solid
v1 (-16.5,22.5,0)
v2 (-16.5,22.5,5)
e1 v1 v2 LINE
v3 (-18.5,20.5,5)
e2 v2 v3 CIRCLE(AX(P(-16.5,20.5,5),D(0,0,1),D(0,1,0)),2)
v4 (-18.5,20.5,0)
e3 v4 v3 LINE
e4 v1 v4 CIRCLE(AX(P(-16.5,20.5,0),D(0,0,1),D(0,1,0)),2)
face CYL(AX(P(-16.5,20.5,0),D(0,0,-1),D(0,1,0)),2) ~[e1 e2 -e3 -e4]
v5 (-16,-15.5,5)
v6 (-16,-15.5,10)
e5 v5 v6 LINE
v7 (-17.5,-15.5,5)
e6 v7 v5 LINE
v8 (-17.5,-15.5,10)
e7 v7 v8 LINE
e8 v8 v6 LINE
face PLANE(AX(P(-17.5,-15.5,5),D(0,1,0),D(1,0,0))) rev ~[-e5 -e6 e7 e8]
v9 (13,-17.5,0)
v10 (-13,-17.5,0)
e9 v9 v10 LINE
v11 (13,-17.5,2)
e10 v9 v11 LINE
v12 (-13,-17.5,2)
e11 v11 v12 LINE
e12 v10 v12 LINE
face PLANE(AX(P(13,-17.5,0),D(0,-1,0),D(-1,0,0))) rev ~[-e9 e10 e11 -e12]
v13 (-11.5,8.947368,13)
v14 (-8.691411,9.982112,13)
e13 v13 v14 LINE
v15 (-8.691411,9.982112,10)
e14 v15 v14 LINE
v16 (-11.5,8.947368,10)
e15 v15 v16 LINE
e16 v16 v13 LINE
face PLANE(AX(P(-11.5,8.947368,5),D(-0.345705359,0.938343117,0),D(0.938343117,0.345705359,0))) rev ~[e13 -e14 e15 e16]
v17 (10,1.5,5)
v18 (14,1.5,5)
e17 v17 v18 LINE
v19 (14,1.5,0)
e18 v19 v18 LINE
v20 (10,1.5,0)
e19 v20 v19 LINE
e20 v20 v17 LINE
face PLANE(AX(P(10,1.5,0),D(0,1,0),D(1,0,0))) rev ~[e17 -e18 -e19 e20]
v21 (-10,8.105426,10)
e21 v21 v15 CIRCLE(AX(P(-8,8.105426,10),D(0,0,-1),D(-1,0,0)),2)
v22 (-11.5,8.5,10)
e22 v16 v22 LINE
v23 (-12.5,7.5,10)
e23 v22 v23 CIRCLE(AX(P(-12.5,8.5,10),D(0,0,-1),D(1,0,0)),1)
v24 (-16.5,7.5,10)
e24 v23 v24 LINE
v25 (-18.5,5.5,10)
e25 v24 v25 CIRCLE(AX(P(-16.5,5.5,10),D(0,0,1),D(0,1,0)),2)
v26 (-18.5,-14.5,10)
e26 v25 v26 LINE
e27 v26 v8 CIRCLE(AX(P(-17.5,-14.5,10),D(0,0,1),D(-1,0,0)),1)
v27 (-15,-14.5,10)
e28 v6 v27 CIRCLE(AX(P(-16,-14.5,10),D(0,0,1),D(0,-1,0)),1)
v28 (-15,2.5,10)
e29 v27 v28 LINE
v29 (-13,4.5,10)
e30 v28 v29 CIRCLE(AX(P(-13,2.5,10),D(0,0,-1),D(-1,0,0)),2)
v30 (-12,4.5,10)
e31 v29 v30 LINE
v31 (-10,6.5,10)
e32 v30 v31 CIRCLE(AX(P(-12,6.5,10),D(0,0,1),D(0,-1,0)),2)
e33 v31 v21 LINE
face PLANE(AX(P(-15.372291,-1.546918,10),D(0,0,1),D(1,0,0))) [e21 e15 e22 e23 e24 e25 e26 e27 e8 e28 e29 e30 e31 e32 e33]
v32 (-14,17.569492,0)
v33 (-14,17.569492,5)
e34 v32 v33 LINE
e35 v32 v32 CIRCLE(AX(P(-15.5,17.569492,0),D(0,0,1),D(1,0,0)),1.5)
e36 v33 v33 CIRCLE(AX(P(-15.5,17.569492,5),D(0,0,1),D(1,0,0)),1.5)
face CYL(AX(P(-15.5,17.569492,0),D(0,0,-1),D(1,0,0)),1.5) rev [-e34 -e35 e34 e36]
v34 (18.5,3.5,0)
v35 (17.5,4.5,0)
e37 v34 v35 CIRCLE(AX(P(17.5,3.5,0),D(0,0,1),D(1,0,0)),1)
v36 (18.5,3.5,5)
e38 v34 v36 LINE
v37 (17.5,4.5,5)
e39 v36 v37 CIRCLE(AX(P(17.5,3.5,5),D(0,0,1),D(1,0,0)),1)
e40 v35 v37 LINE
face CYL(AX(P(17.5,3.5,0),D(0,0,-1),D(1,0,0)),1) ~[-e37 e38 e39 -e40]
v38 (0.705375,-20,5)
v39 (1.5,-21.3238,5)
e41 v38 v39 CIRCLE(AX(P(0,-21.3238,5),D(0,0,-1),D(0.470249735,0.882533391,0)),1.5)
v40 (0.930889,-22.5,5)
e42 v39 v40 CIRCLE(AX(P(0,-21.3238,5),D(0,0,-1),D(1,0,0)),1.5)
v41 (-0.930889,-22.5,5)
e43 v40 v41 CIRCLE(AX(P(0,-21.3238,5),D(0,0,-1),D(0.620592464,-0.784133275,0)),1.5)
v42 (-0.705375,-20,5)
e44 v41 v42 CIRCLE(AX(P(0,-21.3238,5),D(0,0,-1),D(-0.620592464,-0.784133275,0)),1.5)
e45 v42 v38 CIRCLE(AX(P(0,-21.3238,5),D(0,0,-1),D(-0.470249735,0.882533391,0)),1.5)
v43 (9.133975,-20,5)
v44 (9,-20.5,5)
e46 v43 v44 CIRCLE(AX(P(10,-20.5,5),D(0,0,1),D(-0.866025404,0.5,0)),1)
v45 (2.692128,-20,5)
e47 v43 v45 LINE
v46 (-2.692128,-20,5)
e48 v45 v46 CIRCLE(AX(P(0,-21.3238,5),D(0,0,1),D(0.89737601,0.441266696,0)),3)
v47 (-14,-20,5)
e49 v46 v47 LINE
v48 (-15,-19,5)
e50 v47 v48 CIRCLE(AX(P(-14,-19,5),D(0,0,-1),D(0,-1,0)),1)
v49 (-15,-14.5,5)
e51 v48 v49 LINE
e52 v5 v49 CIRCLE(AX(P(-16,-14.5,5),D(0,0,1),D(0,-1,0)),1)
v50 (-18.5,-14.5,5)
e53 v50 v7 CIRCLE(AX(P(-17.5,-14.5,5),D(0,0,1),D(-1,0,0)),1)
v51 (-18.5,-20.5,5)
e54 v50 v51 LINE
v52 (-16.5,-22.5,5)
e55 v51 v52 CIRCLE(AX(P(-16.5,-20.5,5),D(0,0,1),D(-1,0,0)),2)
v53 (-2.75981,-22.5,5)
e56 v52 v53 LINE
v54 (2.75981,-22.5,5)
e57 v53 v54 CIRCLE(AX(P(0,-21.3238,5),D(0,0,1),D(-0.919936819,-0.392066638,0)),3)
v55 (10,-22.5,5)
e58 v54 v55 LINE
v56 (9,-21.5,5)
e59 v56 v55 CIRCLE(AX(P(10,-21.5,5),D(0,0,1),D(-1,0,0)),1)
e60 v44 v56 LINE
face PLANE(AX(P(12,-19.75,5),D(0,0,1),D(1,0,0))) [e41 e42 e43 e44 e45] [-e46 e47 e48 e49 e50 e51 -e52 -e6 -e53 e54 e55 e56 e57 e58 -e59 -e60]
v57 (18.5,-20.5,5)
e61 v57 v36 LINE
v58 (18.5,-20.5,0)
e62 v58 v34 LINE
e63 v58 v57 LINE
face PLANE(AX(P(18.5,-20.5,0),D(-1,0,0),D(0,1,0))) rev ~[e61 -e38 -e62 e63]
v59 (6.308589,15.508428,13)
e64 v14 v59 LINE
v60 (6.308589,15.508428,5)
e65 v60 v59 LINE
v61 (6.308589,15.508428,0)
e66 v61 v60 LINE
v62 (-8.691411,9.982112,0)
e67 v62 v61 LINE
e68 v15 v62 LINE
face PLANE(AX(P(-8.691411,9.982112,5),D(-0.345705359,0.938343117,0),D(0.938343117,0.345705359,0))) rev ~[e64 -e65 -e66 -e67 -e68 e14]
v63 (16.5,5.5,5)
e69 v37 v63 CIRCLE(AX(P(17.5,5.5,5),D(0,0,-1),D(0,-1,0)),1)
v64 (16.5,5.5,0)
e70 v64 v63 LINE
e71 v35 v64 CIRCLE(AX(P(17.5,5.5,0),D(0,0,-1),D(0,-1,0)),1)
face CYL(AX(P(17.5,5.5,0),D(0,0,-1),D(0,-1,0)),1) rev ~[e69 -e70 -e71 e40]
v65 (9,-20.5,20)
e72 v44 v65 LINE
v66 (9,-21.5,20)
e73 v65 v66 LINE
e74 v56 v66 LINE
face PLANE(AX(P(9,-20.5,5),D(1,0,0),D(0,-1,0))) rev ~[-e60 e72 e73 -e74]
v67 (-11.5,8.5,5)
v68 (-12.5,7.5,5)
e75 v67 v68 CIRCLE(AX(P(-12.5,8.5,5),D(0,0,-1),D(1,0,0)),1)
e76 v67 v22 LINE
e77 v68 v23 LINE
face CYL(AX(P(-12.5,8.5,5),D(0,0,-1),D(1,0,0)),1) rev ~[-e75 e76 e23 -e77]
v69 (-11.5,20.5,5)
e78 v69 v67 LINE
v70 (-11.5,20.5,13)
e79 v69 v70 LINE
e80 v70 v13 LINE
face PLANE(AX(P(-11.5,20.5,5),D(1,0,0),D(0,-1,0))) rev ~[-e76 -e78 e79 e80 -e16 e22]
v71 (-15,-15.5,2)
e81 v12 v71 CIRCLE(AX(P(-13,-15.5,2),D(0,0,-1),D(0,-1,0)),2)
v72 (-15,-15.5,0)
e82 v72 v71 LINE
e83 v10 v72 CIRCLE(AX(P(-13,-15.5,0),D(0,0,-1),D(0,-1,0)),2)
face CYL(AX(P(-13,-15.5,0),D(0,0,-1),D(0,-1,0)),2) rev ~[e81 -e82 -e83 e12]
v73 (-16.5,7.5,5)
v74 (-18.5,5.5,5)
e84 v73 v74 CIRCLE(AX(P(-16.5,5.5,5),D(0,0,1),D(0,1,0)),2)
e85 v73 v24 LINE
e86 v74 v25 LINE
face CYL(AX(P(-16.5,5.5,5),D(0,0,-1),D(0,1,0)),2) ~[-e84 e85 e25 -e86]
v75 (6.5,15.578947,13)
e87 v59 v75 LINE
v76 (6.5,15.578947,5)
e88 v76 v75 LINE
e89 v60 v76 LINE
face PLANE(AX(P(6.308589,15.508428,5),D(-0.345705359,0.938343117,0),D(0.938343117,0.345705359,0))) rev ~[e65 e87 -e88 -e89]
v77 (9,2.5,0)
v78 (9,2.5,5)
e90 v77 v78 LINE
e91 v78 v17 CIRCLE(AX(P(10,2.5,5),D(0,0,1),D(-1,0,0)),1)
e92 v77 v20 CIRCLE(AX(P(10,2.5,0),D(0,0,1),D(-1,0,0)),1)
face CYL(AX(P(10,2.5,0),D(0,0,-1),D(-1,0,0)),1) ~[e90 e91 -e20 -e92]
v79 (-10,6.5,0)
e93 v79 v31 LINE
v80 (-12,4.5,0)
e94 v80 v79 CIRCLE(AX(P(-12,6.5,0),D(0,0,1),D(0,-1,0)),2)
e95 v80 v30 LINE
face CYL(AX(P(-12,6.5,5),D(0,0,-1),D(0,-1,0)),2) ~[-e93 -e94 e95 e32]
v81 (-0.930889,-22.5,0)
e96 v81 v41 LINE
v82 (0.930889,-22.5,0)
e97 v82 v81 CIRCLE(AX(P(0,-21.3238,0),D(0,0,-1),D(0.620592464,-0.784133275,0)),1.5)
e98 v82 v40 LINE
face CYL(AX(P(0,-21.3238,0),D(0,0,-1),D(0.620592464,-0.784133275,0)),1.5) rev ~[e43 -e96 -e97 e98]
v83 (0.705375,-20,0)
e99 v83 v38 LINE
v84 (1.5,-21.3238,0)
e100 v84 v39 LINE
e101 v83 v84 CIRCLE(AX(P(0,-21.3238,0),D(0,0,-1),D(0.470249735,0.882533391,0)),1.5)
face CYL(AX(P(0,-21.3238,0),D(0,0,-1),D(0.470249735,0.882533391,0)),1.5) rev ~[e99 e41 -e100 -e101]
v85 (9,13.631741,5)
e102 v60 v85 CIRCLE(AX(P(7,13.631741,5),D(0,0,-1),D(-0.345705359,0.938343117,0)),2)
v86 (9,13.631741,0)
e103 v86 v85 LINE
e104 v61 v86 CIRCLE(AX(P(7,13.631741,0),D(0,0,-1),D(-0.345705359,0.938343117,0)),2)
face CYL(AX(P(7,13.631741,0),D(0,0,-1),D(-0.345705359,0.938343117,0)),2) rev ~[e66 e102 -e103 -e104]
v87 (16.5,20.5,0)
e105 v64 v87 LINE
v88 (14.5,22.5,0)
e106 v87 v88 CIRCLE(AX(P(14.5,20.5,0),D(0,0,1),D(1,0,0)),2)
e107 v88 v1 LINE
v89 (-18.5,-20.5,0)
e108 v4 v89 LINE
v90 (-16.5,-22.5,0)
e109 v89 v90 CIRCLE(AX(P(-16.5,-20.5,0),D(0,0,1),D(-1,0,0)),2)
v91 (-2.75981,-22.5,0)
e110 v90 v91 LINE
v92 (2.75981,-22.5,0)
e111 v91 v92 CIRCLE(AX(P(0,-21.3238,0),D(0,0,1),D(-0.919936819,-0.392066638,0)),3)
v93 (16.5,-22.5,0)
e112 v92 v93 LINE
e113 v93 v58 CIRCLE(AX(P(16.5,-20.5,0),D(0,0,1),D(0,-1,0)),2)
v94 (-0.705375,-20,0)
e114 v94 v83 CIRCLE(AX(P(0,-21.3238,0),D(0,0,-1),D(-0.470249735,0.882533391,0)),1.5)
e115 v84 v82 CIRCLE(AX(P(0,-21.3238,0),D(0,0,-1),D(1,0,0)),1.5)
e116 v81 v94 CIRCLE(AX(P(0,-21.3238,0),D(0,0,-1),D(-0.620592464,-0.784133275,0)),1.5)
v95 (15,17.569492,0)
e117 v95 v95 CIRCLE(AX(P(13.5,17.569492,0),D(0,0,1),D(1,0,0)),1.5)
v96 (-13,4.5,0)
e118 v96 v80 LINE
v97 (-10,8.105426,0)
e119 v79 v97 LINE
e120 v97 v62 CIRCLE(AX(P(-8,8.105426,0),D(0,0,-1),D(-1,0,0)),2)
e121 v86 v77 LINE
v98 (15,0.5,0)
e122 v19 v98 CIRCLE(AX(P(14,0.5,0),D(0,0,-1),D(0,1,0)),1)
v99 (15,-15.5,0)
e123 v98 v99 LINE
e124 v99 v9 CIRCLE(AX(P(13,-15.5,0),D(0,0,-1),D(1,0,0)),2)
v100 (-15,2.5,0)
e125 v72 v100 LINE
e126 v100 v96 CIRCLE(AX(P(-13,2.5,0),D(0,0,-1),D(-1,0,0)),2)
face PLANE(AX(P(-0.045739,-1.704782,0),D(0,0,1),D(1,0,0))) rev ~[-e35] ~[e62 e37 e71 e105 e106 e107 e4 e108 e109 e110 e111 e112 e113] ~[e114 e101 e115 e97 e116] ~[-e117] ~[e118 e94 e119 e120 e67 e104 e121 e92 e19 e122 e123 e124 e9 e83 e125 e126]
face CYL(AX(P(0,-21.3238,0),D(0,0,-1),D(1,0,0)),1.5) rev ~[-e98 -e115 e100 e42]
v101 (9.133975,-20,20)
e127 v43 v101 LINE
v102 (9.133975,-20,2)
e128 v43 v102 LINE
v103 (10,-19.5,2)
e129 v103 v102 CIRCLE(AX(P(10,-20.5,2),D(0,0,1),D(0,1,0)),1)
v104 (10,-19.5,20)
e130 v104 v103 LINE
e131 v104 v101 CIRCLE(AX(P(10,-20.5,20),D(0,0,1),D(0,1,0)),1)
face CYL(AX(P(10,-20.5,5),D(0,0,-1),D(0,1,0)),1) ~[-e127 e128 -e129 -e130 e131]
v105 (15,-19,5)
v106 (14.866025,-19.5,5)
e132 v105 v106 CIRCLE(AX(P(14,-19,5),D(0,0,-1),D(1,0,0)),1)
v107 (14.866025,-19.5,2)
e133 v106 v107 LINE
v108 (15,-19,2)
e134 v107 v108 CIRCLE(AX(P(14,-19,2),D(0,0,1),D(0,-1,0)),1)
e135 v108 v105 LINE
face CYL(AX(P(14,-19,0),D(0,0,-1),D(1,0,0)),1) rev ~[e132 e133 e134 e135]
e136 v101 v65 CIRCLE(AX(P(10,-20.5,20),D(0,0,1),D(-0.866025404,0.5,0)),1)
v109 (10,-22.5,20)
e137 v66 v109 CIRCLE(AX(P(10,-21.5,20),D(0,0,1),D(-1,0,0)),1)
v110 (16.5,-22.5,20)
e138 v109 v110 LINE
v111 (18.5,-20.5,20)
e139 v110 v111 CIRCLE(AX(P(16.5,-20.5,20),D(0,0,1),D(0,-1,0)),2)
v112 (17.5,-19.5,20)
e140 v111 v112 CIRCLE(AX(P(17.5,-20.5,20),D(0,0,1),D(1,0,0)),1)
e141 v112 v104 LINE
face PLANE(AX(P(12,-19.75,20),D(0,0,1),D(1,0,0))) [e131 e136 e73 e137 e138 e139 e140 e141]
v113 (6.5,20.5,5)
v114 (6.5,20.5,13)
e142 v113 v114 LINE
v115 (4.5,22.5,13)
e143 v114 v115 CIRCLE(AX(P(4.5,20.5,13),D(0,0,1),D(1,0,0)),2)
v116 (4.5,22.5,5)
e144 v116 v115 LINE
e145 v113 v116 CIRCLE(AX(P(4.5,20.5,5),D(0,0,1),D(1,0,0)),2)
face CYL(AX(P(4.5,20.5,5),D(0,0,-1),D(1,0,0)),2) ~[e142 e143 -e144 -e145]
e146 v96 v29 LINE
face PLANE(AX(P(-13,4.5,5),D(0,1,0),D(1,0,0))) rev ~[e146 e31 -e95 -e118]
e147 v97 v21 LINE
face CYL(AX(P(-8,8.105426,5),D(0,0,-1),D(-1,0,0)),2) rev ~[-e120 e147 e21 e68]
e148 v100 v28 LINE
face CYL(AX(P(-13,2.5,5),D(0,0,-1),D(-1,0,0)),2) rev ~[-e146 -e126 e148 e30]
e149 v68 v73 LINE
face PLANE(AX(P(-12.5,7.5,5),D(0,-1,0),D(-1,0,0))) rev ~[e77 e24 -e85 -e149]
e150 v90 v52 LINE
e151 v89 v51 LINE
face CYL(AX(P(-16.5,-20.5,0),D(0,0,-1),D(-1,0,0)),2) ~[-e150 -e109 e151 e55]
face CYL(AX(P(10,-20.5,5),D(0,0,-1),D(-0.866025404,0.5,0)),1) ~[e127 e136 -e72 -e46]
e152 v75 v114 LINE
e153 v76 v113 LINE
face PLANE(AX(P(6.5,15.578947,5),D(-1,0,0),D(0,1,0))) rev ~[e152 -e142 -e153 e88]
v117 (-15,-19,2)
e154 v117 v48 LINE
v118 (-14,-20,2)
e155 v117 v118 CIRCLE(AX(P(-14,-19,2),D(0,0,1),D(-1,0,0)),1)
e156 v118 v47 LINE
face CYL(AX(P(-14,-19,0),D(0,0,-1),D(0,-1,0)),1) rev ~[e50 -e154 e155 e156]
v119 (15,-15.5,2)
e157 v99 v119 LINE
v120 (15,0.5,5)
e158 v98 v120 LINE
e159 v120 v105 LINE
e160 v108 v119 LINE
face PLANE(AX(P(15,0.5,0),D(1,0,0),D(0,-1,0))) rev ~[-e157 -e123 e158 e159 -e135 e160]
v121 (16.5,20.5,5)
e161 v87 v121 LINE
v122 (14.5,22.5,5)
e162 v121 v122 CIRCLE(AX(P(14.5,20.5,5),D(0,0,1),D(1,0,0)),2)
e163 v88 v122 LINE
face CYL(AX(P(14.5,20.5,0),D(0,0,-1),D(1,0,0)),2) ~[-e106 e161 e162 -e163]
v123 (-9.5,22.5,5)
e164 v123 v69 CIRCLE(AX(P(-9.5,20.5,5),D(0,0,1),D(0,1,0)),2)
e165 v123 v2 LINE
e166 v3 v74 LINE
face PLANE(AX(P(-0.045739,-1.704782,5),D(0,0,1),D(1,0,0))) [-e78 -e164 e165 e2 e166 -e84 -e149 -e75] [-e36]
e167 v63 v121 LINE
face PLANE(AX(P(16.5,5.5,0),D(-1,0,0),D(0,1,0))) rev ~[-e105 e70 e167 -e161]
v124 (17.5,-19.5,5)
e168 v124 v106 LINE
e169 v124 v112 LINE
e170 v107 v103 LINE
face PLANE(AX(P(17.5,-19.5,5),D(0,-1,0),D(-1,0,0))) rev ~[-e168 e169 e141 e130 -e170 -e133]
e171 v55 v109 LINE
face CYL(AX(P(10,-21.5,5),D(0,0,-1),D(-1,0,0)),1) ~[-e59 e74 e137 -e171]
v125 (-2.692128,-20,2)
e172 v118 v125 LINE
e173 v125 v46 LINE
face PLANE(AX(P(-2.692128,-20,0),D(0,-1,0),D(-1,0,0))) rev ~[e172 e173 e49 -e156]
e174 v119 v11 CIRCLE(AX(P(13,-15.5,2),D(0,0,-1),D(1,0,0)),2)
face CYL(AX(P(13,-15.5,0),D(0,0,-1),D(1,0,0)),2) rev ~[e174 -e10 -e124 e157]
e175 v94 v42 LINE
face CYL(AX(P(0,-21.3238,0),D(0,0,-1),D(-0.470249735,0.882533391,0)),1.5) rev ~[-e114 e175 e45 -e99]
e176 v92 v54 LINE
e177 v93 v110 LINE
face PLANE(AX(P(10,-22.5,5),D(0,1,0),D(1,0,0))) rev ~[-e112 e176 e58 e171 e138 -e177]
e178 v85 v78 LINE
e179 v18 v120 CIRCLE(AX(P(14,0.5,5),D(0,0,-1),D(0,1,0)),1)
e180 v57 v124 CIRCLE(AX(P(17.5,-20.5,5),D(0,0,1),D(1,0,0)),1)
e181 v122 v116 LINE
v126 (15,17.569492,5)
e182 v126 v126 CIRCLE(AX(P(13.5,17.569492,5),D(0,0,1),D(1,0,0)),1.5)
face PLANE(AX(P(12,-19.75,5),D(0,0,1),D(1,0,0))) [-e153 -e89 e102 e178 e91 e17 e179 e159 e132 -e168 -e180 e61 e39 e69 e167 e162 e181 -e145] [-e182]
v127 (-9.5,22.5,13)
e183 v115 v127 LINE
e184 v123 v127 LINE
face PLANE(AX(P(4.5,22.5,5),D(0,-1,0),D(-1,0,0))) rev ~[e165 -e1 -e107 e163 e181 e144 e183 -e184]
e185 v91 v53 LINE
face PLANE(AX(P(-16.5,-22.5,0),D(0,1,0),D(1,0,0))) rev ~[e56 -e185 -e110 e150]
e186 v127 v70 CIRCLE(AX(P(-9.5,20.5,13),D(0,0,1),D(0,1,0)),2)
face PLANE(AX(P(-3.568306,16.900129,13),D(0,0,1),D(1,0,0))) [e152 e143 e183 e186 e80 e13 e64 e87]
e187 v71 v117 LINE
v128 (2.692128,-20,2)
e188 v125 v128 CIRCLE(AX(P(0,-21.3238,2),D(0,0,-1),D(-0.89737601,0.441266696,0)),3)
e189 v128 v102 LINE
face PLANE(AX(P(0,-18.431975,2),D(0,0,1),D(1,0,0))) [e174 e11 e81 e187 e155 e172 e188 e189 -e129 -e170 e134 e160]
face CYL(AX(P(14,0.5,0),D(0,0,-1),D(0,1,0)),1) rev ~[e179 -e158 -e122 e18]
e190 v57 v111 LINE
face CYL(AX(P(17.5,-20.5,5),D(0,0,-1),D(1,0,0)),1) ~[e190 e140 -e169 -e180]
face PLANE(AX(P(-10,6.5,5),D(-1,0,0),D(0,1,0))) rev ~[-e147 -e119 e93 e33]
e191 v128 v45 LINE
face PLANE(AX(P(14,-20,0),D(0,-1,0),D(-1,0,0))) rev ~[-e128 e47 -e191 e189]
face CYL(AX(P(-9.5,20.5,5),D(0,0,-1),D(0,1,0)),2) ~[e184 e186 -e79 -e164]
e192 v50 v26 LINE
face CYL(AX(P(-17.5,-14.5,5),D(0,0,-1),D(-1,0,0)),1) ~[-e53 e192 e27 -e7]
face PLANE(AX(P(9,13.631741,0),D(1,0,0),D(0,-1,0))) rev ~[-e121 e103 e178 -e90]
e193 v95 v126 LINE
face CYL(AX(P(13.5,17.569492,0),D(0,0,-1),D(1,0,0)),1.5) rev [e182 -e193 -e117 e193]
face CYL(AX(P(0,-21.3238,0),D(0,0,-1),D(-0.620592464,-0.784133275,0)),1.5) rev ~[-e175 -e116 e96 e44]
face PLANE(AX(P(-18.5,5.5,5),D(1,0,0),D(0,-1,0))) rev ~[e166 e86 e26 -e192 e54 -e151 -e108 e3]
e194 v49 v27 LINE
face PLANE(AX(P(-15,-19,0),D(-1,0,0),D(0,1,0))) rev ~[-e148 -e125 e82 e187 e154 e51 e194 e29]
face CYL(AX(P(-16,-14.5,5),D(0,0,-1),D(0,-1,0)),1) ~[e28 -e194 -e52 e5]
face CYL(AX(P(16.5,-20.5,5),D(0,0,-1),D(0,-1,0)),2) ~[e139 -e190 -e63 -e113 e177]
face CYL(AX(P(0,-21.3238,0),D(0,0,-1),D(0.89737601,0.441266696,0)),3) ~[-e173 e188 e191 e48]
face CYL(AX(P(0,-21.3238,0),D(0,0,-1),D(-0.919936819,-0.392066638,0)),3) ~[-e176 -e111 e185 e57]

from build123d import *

# Parameters (mm, degrees)
F1_DEPTH = 2
F0_R     = 3
F0_R_2   = 1.5
F2_DEPTH = 5
F4_DEPTH = 5
F5_DEPTH = 8
F6_DEPTH = 4
F7_DEPTH = 15


with BuildPart() as f1:
    # F0 (on Top) → F1 (new body)
    with BuildSketch(Plane.XY):
        with BuildLine():
            Line((-14, -20), (-2.69212803, -20))
            ThreePointArc((-2.69212803, -20), (0, -18.323800087), (2.69212803, -20))
            Line((2.69212803, -20), (14, -20))
            ThreePointArc((14, -20), (14.7071067812, -19.7071067812), (15, -19))
            Line((15, -19), (15, -15.5))
            ThreePointArc((15, -15.5), (14.4142135624, -16.9142135624), (13, -17.5))
            Line((13, -17.5), (-13, -17.5))
            ThreePointArc((-13, -17.5), (-14.4142135624, -16.9142135624), (-15, -15.5))
            Line((-15, -15.5), (-15, -19))
            ThreePointArc((-15, -19), (-14.7071067812, -19.7071067812), (-14, -20))
        make_face()
    extrude(amount=F1_DEPTH)

    # F0 (on Top) → F2 (join)
    with BuildSketch(Plane.XY):
        with BuildLine():
            Line((2.7598104581, -22.5), (16.5, -22.5))
            ThreePointArc((16.5, -22.5), (17.9142135624, -21.9142135624), (18.5, -20.5))
            Line((18.5, -20.5), (18.5, 3.5))
            ThreePointArc((18.5, 3.5), (18.2071067812, 4.2071067812), (17.5, 4.5))
            ThreePointArc((17.5, 4.5), (16.7928932188, 4.7928932188), (16.5, 5.5))
            Line((16.5, 5.5), (16.5, 17.5694916397))
            Line((16.5, 17.5694916397), (16.5, 20.5))
            ThreePointArc((16.5, 20.5), (15.9142135624, 21.9142135624), (14.5, 22.5))
            Line((14.5, 22.5), (-16.5, 22.5))
            ThreePointArc((-16.5, 22.5), (-17.9142135624, 21.9142135624), (-18.5, 20.5))
            Line((-18.5, 20.5), (-18.5, 17.5694916397))
            Line((-18.5, 17.5694916397), (-18.5, -20.5))
            ThreePointArc((-18.5, -20.5), (-17.9142135624, -21.9142135624), (-16.5, -22.5))
            Line((-16.5, -22.5), (-2.7598104581, -22.5))
            ThreePointArc((-2.7598104581, -22.5), (-2.9989011853, -21.2426109214), (-2.69212803, -20))
            Line((-2.69212803, -20), (-14, -20))
            ThreePointArc((-14, -20), (-14.7071067812, -19.7071067812), (-15, -19))
            Line((-15, -19), (-15, -15.5))
            Line((-15, -15.5), (-15, 2.5))
            ThreePointArc((-15, 2.5), (-14.4142135624, 3.9142135624), (-13, 4.5))
            Line((-13, 4.5), (-12, 4.5))
            ThreePointArc((-12, 4.5), (-10.5857864376, 5.0857864376), (-10, 6.5))
            Line((-10, 6.5), (-10, 8.1054256072))
            ThreePointArc((-10, 8.1054256072), (-9.6405519552, 9.2493614806), (-8.6914107177, 9.9821118409))
            Line((-8.6914107177, 9.9821118409), (6.3085892823, 15.5084276303))
            ThreePointArc((6.3085892823, 15.5084276303), (8.1439358734, 15.2722933519), (9, 13.6317413967))
            Line((9, 13.6317413967), (9, 2.5))
            ThreePointArc((9, 2.5), (9.2928932188, 1.7928932188), (10, 1.5))
            Line((10, 1.5), (14, 1.5))
            ThreePointArc((14, 1.5), (14.7071067812, 1.2071067812), (15, 0.5))
            Line((15, 0.5), (15, -15.5))
            Line((15, -15.5), (15, -19))
            ThreePointArc((15, -19), (14.7071067812, -19.7071067812), (14, -20))
            Line((14, -20), (2.69212803, -20))
            ThreePointArc((2.69212803, -20), (2.9220184881, -20.6442355536), (3, -21.323800087))
            ThreePointArc((3, -21.323800087), (2.9393393283, -21.9240369676), (2.7598104581, -22.5))
        make_face()
        with BuildLine():
            ThreePointArc((-12.5, 17.5694916397), (-15.5, 14.5694916397), (-18.5, 17.5694916397))
            ThreePointArc((-18.5, 17.5694916397), (-15.5, 20.5694916397), (-12.5, 17.5694916397))
        make_face(mode=Mode.SUBTRACT)
        with Locations((13.5, 17.5694916397)):
            Circle(F0_R, mode=Mode.SUBTRACT)
        with BuildLine():
            ThreePointArc((2.69212803, -20), (0, -18.323800087), (-2.69212803, -20))
            Line((-2.69212803, -20), (-0.7053746024, -20))
            ThreePointArc((-0.7053746024, -20), (0, -19.823800087), (0.7053746024, -20))
            Line((0.7053746024, -20), (2.69212803, -20))
        make_face()
        with BuildLine():
            ThreePointArc((-2.69212803, -20), (-2.9989011853, -21.2426109214), (-2.7598104581, -22.5))
            Line((-2.7598104581, -22.5), (-0.9308886961, -22.5))
            ThreePointArc((-0.9308886961, -22.5), (-1.4939342005, -21.1890388), (-0.7053746024, -20))
            Line((-0.7053746024, -20), (-2.69212803, -20))
        make_face()
        with BuildLine():
            Line((0.9308886961, -22.5), (2.7598104581, -22.5))
            ThreePointArc((2.7598104581, -22.5), (2.9393393283, -21.9240369676), (3, -21.323800087))
            ThreePointArc((3, -21.323800087), (2.9220184881, -20.6442355536), (2.69212803, -20))
            Line((2.69212803, -20), (0.7053746024, -20))
            ThreePointArc((0.7053746024, -20), (1.2860913466, -20.5518097708), (1.5, -21.323800087))
            ThreePointArc((1.5, -21.323800087), (1.3502468375, -21.9771250275), (0.9308886961, -22.5))
        make_face()
        with BuildLine():
            ThreePointArc((-2.7598104581, -22.5), (0, -24.323800087), (2.7598104581, -22.5))
            Line((2.7598104581, -22.5), (0.9308886961, -22.5))
            ThreePointArc((0.9308886961, -22.5), (0, -22.823800087), (-0.9308886961, -22.5))
            Line((-0.9308886961, -22.5), (-2.7598104581, -22.5))
        make_face()
        with BuildLine():
            ThreePointArc((-12.5, 17.5694916397), (-15.5, 20.5694916397), (-18.5, 17.5694916397))
            ThreePointArc((-18.5, 17.5694916397), (-15.5, 14.5694916397), (-12.5, 17.5694916397))
        make_face()
        with Locations((-15.5, 17.5694916397)):
            Circle(F0_R_2, mode=Mode.SUBTRACT)
        with Locations((13.5, 17.5694916397)):
            Circle(F0_R)
        with Locations((13.5, 17.5694916397)):
            Circle(F0_R_2, mode=Mode.SUBTRACT)
    extrude(amount=F2_DEPTH)

    # F3 (on face) → F4 (join)
    with BuildSketch(Plane.XY.offset(5)):
        with BuildLine():
            ThreePointArc((-18.5, -14.5), (-18.2071067812, -15.2071067812), (-17.5, -15.5))
            Line((-17.5, -15.5), (-16, -15.5))
            ThreePointArc((-16, -15.5), (-15.2928932188, -15.2071067812), (-15, -14.5))
            Line((-15, -14.5), (-15, 2.5))
            ThreePointArc((-15, 2.5), (-14.4142135624, 3.9142135624), (-13, 4.5))
            Line((-13, 4.5), (-12, 4.5))
            ThreePointArc((-12, 4.5), (-10.5857864376, 5.0857864376), (-10, 6.5))
            Line((-10, 6.5), (-10, 8.1054256072))
            ThreePointArc((-10, 8.1054256072), (-9.6405519552, 9.2493614806), (-8.6914107177, 9.9821118409))
            Line((-8.6914107177, 9.9821118409), (-11.5, 8.9473684211))
            Line((-11.5, 8.9473684211), (-11.5, 8.5))
            ThreePointArc((-11.5, 8.5), (-11.7928932188, 7.7928932188), (-12.5, 7.5))
            Line((-12.5, 7.5), (-16.5, 7.5))
            ThreePointArc((-16.5, 7.5), (-17.9142135624, 6.9142135624), (-18.5, 5.5))
            Line((-18.5, 5.5), (-18.5, -14.5))
        make_face()
    extrude(amount=F4_DEPTH)

    # F3 (on face) → F5 (join)
    with BuildSketch(Plane.XY.offset(5)):
        with BuildLine():
            Line((4.5, 22.5), (-9.5, 22.5))
            ThreePointArc((-9.5, 22.5), (-10.9142135624, 21.9142135624), (-11.5, 20.5))
            Line((-11.5, 20.5), (-11.5, 8.9473684211))
            Line((-11.5, 8.9473684211), (-8.6914107177, 9.9821118409))
            Line((-8.6914107177, 9.9821118409), (6.3085892823, 15.5084276303))
            Line((6.3085892823, 15.5084276303), (6.5, 15.5789473684))
            Line((6.5, 15.5789473684), (6.5, 20.5))
            ThreePointArc((6.5, 20.5), (5.9142135624, 21.9142135624), (4.5, 22.5))
        make_face()
    extrude(amount=F5_DEPTH)

    # F3 (on face) → F6 (join)
    with BuildSketch(Plane.XY.offset(5)):
        with BuildLine():
            ThreePointArc((10, -19.5), (9.5, -19.6339745962), (9.1339745962, -20))
            Line((9.1339745962, -20), (14, -20))
            ThreePointArc((14, -20), (14.5, -19.8660254038), (14.8660254038, -19.5))
            Line((14.8660254038, -19.5), (10, -19.5))
        make_face()
        with BuildLine():
            ThreePointArc((9, -21.5), (9.2928932188, -22.2071067812), (10, -22.5))
            Line((10, -22.5), (16.5, -22.5))
            ThreePointArc((16.5, -22.5), (17.9142135624, -21.9142135624), (18.5, -20.5))
            ThreePointArc((18.5, -20.5), (18.2071067812, -19.7928932188), (17.5, -19.5))
            Line((17.5, -19.5), (14.8660254038, -19.5))
            ThreePointArc((14.8660254038, -19.5), (14.5, -19.8660254038), (14, -20))
            Line((14, -20), (9.1339745962, -20))
            ThreePointArc((9.1339745962, -20), (9.0340741737, -20.2411809549), (9, -20.5))
            Line((9, -20.5), (9, -21.5))
        make_face()
    extrude(amount=-F6_DEPTH)

    # F3 (on face) → F7 (join)
    with BuildSketch(Plane.XY.offset(5)):
        with BuildLine():
            ThreePointArc((10, -19.5), (9.5, -19.6339745962), (9.1339745962, -20))
            Line((9.1339745962, -20), (14, -20))
            ThreePointArc((14, -20), (14.5, -19.8660254038), (14.8660254038, -19.5))
            Line((14.8660254038, -19.5), (10, -19.5))
        make_face()
        with BuildLine():
            ThreePointArc((9, -21.5), (9.2928932188, -22.2071067812), (10, -22.5))
            Line((10, -22.5), (16.5, -22.5))
            ThreePointArc((16.5, -22.5), (17.9142135624, -21.9142135624), (18.5, -20.5))
            ThreePointArc((18.5, -20.5), (18.2071067812, -19.7928932188), (17.5, -19.5))
            Line((17.5, -19.5), (14.8660254038, -19.5))
            ThreePointArc((14.8660254038, -19.5), (14.5, -19.8660254038), (14, -20))
            Line((14, -20), (9.1339745962, -20))
            ThreePointArc((9.1339745962, -20), (9.0340741737, -20.2411809549), (9, -20.5))
            Line((9, -20.5), (9, -21.5))
        make_face()
    extrude(amount=F7_DEPTH)


solid = f1.part
